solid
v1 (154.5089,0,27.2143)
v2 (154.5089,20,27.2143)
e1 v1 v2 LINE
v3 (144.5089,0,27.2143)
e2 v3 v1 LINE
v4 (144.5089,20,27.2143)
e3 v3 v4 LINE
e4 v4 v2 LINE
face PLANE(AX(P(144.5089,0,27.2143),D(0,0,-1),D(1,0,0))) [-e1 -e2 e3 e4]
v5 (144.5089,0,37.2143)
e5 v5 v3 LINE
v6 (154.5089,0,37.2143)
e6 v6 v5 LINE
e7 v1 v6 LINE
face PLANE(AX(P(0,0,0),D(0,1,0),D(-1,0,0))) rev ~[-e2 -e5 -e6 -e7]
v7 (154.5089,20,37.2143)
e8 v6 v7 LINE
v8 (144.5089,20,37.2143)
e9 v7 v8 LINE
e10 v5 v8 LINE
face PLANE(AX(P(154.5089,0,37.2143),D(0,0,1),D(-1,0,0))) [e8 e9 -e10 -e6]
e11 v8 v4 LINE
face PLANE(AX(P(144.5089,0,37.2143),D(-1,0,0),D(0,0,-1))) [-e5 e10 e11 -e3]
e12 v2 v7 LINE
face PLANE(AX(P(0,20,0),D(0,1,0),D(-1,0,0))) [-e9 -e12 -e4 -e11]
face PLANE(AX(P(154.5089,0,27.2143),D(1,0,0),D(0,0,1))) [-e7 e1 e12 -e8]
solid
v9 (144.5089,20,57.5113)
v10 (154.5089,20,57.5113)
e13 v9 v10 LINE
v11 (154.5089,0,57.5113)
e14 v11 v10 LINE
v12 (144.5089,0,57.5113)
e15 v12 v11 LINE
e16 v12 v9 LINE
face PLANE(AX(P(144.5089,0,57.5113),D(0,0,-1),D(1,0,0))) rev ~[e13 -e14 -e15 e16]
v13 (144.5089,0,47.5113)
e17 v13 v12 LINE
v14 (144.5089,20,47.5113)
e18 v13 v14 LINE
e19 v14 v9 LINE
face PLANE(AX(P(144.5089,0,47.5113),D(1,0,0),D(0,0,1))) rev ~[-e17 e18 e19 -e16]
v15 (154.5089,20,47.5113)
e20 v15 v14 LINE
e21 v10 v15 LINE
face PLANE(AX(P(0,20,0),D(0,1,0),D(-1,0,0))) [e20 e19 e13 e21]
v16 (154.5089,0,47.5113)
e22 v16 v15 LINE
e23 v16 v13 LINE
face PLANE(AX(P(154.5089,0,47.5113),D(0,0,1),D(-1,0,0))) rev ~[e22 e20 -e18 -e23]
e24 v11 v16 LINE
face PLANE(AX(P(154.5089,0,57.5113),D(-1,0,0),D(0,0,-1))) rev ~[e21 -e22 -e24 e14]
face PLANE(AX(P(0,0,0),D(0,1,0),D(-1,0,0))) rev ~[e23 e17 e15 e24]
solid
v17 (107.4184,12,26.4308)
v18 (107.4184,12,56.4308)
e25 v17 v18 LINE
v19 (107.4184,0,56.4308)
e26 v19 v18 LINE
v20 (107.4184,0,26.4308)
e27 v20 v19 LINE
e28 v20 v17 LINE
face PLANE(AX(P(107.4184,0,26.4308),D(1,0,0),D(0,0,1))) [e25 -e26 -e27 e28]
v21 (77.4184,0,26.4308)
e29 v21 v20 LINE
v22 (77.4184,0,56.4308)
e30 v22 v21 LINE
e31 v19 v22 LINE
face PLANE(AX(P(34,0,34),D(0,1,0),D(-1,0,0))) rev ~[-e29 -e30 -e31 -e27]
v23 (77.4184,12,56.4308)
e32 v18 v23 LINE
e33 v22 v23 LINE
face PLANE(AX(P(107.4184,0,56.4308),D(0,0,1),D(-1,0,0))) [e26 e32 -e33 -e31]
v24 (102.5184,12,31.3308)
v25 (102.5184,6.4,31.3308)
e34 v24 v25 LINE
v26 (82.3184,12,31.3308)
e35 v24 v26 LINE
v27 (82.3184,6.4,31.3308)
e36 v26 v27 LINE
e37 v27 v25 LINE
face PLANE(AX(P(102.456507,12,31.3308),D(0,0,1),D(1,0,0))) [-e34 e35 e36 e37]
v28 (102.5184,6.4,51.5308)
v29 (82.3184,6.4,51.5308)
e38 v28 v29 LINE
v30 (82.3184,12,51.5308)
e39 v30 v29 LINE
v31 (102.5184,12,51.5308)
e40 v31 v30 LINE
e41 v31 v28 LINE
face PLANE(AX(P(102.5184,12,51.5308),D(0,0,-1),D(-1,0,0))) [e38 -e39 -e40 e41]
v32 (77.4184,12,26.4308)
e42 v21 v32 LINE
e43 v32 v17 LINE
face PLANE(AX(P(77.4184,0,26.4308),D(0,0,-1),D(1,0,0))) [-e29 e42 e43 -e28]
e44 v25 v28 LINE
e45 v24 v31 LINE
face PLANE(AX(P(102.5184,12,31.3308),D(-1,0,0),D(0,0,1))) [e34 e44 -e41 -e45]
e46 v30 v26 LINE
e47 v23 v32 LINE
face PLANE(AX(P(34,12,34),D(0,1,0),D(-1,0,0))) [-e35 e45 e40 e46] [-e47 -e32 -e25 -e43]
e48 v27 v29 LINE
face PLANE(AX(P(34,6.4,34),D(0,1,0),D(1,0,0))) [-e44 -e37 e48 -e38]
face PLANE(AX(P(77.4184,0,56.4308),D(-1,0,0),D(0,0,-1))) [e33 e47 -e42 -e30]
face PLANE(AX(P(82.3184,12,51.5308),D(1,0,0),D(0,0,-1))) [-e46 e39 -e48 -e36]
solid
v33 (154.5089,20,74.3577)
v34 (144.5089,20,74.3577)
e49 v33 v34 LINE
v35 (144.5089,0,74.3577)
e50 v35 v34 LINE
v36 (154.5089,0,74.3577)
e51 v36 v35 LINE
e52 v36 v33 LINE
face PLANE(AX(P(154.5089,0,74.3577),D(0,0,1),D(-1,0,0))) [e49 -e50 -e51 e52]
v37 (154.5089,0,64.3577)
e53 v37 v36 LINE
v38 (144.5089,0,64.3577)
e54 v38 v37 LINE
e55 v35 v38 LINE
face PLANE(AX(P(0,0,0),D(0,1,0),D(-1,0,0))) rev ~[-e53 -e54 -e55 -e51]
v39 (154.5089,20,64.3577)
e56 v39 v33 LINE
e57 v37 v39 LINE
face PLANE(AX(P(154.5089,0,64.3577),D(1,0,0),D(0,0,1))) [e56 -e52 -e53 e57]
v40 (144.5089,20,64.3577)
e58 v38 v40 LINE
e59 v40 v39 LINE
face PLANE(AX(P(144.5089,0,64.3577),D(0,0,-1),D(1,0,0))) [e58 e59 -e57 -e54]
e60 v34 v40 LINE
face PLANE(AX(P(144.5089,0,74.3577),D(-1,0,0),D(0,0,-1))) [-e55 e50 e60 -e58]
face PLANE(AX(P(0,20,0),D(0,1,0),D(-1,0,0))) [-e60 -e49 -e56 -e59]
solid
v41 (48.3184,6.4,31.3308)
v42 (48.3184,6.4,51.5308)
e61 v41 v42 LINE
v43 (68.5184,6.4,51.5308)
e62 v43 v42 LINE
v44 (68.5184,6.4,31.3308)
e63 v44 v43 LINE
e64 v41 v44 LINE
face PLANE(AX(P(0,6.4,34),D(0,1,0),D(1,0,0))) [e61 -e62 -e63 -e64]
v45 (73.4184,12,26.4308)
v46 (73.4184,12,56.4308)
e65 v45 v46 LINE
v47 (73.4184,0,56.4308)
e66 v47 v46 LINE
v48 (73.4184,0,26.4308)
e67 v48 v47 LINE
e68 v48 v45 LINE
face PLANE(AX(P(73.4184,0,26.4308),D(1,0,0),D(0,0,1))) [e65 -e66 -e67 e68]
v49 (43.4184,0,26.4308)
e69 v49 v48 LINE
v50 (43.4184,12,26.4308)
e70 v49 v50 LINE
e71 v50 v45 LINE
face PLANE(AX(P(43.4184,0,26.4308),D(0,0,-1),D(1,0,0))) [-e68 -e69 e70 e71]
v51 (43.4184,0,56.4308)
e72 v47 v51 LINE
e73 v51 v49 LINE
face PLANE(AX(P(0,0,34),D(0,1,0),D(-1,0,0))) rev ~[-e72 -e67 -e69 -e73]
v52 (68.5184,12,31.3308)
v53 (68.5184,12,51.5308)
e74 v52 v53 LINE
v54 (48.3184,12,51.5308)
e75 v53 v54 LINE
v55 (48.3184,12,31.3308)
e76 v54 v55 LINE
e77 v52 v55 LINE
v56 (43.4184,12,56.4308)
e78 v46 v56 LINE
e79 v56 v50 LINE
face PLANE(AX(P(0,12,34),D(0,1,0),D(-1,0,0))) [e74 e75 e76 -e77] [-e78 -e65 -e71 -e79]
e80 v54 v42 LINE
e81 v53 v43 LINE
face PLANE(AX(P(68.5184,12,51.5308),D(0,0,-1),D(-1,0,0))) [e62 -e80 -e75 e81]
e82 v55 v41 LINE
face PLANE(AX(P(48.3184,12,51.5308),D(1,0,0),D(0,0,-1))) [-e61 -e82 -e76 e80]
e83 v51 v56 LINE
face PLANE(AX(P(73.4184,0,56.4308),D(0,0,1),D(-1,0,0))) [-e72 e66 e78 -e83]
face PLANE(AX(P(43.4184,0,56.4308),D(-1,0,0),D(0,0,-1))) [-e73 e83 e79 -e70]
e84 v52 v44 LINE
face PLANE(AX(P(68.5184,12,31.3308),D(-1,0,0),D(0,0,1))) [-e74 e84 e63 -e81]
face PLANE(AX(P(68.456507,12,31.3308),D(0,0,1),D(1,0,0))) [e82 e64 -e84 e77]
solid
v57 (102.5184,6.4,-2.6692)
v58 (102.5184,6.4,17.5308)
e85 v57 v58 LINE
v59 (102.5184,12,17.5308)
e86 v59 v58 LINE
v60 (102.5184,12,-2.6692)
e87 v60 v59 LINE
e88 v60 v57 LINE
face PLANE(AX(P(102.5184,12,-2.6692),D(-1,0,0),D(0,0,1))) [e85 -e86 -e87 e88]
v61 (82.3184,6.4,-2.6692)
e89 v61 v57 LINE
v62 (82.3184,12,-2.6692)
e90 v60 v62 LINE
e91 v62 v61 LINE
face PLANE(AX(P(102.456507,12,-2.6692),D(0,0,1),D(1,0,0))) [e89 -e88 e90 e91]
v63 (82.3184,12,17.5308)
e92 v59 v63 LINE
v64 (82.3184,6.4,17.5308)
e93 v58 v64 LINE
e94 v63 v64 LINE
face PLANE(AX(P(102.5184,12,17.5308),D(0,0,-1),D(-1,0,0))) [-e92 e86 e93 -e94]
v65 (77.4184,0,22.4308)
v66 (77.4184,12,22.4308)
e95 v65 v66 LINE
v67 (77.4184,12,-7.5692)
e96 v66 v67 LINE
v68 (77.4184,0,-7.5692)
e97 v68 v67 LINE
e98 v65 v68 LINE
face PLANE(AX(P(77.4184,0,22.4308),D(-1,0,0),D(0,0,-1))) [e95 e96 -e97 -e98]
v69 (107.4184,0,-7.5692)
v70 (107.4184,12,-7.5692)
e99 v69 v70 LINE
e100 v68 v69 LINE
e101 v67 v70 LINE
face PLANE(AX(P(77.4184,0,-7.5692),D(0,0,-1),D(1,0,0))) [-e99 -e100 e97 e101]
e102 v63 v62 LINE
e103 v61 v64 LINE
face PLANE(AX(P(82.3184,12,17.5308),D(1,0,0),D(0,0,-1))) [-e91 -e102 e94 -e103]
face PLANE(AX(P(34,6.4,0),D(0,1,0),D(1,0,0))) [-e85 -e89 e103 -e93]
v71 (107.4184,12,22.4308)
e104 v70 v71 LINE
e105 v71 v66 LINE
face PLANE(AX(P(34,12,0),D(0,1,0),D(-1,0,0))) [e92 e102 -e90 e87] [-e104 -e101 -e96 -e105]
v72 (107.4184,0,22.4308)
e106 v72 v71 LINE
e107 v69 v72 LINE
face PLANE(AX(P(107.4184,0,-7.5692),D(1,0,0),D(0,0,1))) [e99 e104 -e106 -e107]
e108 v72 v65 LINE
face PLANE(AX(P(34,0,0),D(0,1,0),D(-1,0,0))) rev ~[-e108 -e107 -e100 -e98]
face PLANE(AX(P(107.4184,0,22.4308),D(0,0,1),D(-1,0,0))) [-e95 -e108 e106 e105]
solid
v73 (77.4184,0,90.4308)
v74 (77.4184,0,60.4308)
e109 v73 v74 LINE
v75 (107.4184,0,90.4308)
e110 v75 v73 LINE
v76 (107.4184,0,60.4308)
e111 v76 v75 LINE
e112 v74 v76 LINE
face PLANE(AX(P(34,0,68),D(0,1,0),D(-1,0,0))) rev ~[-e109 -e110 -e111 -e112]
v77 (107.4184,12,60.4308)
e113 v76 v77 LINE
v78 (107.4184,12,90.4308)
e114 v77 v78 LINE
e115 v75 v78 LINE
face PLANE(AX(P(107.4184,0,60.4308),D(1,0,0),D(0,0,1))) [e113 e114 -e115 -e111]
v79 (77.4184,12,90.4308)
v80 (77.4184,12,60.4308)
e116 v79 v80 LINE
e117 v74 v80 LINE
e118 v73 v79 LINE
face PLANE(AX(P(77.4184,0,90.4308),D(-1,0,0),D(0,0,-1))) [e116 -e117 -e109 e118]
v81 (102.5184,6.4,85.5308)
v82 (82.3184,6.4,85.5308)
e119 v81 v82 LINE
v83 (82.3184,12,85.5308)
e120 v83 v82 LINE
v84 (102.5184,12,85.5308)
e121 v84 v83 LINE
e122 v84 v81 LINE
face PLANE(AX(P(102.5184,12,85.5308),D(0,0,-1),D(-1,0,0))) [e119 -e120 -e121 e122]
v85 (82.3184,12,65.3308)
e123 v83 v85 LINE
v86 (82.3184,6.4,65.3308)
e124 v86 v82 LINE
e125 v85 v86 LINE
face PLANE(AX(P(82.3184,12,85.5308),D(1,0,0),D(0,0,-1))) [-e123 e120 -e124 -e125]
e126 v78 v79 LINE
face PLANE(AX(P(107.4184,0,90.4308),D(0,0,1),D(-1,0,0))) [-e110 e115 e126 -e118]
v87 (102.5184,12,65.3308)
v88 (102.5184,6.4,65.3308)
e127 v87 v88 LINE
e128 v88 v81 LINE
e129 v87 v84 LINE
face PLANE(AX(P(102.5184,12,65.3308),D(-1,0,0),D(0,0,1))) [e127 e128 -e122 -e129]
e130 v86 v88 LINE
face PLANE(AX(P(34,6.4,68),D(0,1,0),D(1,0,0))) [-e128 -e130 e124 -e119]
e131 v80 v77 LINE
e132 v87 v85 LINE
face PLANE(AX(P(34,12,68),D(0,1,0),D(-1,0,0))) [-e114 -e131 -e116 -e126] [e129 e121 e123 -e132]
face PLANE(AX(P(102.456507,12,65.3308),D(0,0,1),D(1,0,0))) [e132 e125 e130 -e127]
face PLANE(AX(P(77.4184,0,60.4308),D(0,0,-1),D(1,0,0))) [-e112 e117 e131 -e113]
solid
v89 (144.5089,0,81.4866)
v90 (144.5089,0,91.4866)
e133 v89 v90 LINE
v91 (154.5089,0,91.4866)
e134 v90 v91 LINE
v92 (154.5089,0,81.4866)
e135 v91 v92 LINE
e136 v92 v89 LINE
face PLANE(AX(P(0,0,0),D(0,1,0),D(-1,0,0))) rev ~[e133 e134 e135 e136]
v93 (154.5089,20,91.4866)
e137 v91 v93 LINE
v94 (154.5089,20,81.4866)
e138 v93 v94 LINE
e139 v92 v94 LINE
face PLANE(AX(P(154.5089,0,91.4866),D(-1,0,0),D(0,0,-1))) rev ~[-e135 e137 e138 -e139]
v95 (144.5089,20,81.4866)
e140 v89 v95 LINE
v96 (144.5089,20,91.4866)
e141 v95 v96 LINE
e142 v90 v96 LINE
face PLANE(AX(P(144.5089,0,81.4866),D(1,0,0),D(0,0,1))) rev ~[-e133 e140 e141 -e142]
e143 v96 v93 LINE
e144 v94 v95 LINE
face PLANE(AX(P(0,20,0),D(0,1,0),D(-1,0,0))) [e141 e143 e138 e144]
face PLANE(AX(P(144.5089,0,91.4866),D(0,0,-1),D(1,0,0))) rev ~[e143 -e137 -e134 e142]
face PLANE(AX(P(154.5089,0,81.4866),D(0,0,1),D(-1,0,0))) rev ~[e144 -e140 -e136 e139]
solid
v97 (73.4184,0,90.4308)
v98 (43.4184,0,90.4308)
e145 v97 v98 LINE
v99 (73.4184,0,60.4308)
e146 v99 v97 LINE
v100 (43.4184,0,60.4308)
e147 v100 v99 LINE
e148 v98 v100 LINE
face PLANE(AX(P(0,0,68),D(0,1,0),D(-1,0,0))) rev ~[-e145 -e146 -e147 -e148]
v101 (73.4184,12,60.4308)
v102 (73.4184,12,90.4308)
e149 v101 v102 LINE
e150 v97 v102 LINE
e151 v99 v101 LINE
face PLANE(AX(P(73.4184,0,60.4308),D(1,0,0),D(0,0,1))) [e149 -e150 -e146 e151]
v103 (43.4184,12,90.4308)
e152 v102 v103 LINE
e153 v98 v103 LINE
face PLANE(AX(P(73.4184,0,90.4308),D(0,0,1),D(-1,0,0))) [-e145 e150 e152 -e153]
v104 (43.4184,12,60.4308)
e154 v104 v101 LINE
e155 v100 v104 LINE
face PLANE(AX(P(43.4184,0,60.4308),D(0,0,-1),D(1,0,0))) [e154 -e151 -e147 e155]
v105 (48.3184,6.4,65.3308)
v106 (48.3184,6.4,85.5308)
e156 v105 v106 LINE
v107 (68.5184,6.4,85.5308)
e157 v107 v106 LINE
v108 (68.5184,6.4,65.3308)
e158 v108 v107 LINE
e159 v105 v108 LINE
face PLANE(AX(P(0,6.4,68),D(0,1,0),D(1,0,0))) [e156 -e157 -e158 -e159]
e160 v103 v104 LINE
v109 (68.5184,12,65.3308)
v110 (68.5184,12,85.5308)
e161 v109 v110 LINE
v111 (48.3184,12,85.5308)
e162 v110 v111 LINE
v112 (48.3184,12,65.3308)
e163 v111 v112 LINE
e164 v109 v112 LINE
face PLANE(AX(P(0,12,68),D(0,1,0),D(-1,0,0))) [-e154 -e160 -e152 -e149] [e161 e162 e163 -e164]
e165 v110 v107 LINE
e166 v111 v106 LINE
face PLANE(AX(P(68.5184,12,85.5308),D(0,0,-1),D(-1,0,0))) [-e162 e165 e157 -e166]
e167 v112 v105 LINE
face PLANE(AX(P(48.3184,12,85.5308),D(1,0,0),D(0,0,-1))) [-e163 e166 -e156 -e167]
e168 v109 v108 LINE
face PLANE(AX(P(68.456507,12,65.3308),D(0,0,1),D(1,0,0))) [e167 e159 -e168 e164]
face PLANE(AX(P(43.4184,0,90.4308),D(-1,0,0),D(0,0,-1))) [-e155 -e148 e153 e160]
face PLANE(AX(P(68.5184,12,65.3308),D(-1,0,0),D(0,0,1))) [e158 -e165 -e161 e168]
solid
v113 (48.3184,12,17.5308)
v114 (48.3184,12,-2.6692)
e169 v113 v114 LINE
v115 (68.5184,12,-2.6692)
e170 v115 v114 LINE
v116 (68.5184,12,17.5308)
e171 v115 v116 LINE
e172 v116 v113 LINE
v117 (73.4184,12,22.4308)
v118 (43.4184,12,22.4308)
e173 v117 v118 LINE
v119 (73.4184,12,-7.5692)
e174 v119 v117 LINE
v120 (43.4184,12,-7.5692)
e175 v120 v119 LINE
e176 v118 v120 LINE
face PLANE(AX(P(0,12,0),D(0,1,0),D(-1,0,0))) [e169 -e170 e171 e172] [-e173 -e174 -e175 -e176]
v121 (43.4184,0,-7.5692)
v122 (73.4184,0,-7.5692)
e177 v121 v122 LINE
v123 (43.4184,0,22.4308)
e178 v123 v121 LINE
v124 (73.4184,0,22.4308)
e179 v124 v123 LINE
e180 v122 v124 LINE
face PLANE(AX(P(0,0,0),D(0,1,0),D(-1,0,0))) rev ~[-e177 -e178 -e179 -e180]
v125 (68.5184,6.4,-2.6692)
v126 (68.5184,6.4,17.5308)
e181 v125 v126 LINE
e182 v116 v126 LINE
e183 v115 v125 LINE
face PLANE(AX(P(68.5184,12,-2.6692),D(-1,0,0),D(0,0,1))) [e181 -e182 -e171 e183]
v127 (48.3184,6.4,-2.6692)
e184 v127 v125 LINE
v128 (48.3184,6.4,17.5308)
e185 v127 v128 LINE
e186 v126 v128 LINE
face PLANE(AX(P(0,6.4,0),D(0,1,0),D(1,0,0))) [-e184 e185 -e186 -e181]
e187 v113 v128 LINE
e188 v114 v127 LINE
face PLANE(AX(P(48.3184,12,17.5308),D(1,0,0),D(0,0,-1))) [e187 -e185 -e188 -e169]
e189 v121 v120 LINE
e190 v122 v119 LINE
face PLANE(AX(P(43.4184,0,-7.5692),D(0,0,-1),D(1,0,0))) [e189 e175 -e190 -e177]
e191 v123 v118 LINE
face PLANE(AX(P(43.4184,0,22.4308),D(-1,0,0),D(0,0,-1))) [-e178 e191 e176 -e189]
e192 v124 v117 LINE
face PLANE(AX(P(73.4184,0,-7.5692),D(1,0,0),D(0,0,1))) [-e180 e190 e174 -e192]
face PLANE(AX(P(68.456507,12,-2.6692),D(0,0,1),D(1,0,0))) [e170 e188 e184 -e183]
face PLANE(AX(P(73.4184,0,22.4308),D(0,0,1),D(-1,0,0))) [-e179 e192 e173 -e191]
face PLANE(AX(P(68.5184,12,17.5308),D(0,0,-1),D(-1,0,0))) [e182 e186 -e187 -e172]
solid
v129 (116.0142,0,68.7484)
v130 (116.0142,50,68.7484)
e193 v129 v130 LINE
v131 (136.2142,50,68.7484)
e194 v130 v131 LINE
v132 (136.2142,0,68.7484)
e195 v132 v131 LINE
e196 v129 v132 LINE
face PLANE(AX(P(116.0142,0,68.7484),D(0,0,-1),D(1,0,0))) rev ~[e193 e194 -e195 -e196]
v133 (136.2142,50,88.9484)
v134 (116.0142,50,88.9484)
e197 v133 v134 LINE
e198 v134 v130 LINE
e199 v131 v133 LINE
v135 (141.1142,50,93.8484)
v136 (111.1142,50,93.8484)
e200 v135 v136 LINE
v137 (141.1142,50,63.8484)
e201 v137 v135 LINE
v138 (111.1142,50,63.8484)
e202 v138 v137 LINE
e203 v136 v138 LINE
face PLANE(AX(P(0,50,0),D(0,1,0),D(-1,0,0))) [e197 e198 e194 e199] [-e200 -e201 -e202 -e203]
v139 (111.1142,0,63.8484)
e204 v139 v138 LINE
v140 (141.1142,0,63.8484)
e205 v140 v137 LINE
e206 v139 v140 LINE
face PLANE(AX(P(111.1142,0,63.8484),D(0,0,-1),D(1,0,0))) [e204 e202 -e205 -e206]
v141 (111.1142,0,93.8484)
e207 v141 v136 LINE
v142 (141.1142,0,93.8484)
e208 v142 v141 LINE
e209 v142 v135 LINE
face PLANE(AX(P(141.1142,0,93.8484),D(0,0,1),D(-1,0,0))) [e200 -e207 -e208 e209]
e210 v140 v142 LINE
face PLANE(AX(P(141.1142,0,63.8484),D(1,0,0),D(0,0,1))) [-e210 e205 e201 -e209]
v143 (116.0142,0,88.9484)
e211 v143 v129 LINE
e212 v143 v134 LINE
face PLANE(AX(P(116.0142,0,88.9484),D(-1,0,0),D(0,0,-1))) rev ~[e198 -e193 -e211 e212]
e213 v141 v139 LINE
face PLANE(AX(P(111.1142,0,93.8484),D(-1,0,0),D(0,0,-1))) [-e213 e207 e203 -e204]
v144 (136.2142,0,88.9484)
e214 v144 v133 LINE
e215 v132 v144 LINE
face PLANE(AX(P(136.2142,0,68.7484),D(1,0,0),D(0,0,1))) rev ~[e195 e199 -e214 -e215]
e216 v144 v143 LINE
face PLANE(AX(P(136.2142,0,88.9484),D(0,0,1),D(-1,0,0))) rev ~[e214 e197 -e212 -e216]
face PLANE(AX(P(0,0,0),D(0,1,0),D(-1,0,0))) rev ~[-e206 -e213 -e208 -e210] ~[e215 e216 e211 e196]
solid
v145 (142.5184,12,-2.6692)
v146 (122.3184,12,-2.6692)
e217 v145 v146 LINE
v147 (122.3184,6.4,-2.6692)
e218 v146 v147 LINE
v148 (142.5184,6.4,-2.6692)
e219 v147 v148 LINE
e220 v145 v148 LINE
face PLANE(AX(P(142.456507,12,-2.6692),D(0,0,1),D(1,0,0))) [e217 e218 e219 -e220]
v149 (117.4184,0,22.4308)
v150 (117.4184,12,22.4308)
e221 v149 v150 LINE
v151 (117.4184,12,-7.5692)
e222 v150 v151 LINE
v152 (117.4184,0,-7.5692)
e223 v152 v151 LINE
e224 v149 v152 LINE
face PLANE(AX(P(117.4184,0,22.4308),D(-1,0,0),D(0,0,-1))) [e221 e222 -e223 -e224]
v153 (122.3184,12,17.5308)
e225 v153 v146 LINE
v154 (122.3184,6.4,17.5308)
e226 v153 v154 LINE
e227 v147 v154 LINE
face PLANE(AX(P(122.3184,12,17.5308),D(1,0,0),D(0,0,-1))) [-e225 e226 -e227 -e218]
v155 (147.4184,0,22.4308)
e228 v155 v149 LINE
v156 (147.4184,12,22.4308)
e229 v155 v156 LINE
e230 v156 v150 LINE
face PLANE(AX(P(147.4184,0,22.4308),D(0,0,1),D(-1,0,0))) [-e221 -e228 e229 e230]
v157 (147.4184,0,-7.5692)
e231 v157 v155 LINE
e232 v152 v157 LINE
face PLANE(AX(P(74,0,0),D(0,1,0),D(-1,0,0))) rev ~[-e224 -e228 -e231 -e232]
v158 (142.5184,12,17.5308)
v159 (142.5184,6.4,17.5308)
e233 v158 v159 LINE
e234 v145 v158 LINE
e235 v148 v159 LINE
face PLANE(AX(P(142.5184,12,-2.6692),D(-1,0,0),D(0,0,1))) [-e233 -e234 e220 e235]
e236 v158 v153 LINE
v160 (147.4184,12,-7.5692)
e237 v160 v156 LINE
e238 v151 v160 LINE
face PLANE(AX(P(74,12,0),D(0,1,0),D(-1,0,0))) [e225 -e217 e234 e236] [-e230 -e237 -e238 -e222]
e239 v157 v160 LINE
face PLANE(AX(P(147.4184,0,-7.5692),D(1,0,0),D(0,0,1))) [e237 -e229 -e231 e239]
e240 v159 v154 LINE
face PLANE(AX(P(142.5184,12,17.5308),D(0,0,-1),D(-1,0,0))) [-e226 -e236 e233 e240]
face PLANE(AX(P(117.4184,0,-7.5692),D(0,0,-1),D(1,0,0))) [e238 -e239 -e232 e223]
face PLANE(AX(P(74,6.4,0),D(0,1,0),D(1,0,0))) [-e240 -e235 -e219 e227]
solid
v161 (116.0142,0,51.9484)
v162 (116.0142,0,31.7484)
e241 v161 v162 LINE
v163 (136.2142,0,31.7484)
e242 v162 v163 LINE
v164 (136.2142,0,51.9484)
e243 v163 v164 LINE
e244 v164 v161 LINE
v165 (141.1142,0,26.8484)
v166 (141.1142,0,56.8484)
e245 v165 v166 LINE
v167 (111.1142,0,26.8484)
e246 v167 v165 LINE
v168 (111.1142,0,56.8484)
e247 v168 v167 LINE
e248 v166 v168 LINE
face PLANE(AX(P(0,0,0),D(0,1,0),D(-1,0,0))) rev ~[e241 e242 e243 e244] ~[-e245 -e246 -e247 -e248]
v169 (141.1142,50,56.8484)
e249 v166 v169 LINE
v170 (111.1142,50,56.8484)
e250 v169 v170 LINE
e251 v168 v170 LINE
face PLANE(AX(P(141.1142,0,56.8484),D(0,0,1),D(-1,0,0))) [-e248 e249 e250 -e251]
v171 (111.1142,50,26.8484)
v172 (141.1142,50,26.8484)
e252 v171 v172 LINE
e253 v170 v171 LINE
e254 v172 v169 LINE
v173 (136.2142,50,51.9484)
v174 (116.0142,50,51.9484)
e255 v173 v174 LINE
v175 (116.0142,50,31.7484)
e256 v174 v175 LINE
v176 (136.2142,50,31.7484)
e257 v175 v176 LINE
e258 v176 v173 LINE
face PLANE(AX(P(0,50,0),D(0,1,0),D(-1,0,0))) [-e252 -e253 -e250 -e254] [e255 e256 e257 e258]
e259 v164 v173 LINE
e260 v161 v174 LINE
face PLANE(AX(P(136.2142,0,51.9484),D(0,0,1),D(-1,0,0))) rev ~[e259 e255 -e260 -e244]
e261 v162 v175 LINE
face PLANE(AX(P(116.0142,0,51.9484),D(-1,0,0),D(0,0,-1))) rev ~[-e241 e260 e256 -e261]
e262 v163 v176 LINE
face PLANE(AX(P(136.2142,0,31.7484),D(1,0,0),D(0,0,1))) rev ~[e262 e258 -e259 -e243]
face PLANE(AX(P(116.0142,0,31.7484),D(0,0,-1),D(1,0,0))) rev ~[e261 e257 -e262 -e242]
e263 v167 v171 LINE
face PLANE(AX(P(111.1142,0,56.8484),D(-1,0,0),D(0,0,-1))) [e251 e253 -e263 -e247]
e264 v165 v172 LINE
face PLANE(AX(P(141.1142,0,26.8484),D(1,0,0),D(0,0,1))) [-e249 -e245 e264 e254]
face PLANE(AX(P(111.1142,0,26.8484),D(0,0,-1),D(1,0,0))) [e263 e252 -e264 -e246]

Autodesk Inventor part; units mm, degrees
ref_plane "YZ Plane" through (0, 0, 0) normal (1, 0, 0) x (0, 1, 0)
ref_plane "XZ Plane" through (0, 0, 0) normal (0, 1, 0) x (-1, 0, 0)
ref_plane "XY Plane" through (0, 0, 0) normal (0, 0, 1) x (1, 0, 0)
sketch "草圖1" plane through (0, 0, 0) normal (0, 1, 0) x (-1, 0, 0)
  circle A0 centre (0, 0) radius 7
  circle A1 centre (0, 0) radius 11
  line L0 (0, 0) -> (-26.517, 0)
  line L1 (0, 0) -> (0, 28.4195)
  circle A2 centre (-26, 0) radius 7
  circle A3 centre (-26, 0) radius 11
  circle A4 centre (0, 26) radius 7
  circle A5 centre (0, 26) radius 11
  circle A6 centre (-26, 26) radius 7
  circle A7 centre (-26, 26) radius 11
  dimension "d0" = 14
  dimension "d1" = 22
  dimension "d6" = 26
  dimension "d9" = 26
sketch "草圖2" plane through (0, 0, 0) normal (0, 1, 0) x (-1, 0, 0)
  line L0 (-43.4184, -7.5692) -> (-73.4184, -7.5692)
  line L1 (-73.4184, -7.5692) -> (-73.4184, 22.4308)
  line L2 (-73.4184, 22.4308) -> (-43.4184, 22.4308)
  line L3 (-43.4184, 22.4308) -> (-43.4184, -7.5692)
  point P0 (0, 0)
  dimension "d14" = 30
  dimension "d15" = 30
extrude "擠出3" add sketch "草圖2" along normal blind 12
sketch "草圖3" plane through (0, 12, 0) normal (0, 1, 0) x (1, 0, 0)
  line L0 (73.4184, -22.4308) -> (73.4184, 7.5692) projected
  line L1 (73.4184, 7.5692) -> (41.0142, -24.4308)
  line L2 (73.4184, 7.5692) -> (43.4184, 7.5692) projected
  line L3 (43.4184, 7.5692) -> (73.4184, -22.4308)
  line L4 (48.3184, 2.6692) -> (68.5184, 2.6692)
  line L5 (68.5184, 2.6692) -> (68.5184, -17.5308)
  line L6 (68.5184, -17.5308) -> (48.3184, -17.5308)
  line L7 (48.3184, -17.5308) -> (48.3184, 2.6692)
  line L8 (48.3184, 2.6692) -> (68.5184, -17.5308) construction
  line L9 (68.5184, 2.6692) -> (48.3184, -17.5308) construction
  point P0 (0, 0)
  point P1 (58.4184, -7.4308)
  dimension "d18" = 20.2
  dimension "d19" = 20.2
extrude "擠出4" cut sketch "草圖3" against normal blind 5.6 contours L6 L7 L1 L3 | L3 L1 L4 L5 | L1 L3 L4 | L1 L7 L3
pattern_linear "矩形陣列1" count 2 spacing 34 along (1, 0, 0) count 3 spacing 34 along (0, 0, 1) of "擠出3", "擠出4"
sketch "草圖6" plane through (0, 0, 0) normal (0, 1, 0) x (-1, 0, 0)
  point P0 (0, 0)
sketch "草圖9" plane through (0, 0, 0) normal (0, 1, 0) x (-1, 0, 0)
  line L0 (-111.1142, 26.8484) -> (-141.1142, 26.8484)
  line L1 (-141.1142, 26.8484) -> (-141.1142, 56.8484)
  line L2 (-141.1142, 56.8484) -> (-111.1142, 56.8484)
  line L3 (-111.1142, 56.8484) -> (-111.1142, 26.8484)
  line L4 (-116.0142, 31.7484) -> (-136.2142, 31.7484)
  line L5 (-136.2142, 31.7484) -> (-136.2142, 51.9484)
  line L6 (-136.2142, 51.9484) -> (-116.0142, 51.9484)
  line L7 (-116.0142, 51.9484) -> (-116.0142, 31.7484)
  line L8 (-116.0142, 31.7484) -> (-136.2142, 51.9484) construction
  line L9 (-136.2142, 31.7484) -> (-116.0142, 51.9484) construction
  line L10 (-111.1142, 63.8484) -> (-141.1142, 63.8484)
  line L11 (-141.1142, 63.8484) -> (-141.1142, 93.8484)
  line L12 (-141.1142, 93.8484) -> (-111.1142, 93.8484)
  line L13 (-111.1142, 93.8484) -> (-111.1142, 63.8484)
  line L14 (-116.0142, 68.7484) -> (-136.2142, 68.7484)
  line L15 (-136.2142, 68.7484) -> (-136.2142, 88.9484)
  line L16 (-136.2142, 88.9484) -> (-116.0142, 88.9484)
  line L17 (-116.0142, 88.9484) -> (-116.0142, 68.7484)
  line L18 (-116.0142, 68.7484) -> (-136.2142, 88.9484) construction
  line L19 (-136.2142, 68.7484) -> (-116.0142, 88.9484) construction
  line L20 (-1.9445, 119.2719) -> (-33.9445, 119.2719)
  line L21 (-33.9445, 119.2719) -> (-33.9445, 151.2719)
  line L22 (-33.9445, 151.2719) -> (-1.9445, 151.2719)
  line L23 (-1.9445, 151.2719) -> (-1.9445, 119.2719)
  line L24 (-5.9445, 123.2719) -> (-29.9445, 123.2719)
  line L25 (-29.9445, 123.2719) -> (-29.9445, 147.2719)
  line L26 (-29.9445, 147.2719) -> (-5.9445, 147.2719)
  line L27 (-5.9445, 147.2719) -> (-5.9445, 123.2719)
  line L28 (-5.9445, 119.5982) -> (-29.9445, 143.5982) construction
  line L29 (-29.9445, 119.5982) -> (-5.9445, 143.5982) construction
  line L30 (35.5473, 81.3984) -> (3.5473, 81.3984)
  line L31 (3.5473, 81.3984) -> (3.5473, 113.3984)
  line L32 (3.5473, 113.3984) -> (35.5473, 113.3984)
  line L33 (35.5473, 113.3984) -> (35.5473, 81.3984)
  line L34 (31.5472, 85.3984) -> (7.5472, 85.3984)
  line L35 (7.5472, 85.3984) -> (7.5472, 109.3984)
  line L36 (7.5472, 109.3984) -> (31.5472, 109.3984)
  line L37 (31.5472, 109.3984) -> (31.5472, 85.3984)
  line L38 (31.5472, 85.3984) -> (7.5472, 109.3984) construction
  line L39 (7.5472, 85.3984) -> (31.5472, 109.3984) construction
  line L40 (34.8593, 41.843) -> (2.8593, 41.843)
  line L41 (30.8593, 45.843) -> (6.8593, 45.843)
  line L42 (6.8593, 45.843) -> (6.8593, 69.843)
  line L43 (2.8593, 41.843) -> (2.8593, 73.843)
  line L44 (6.8593, 69.843) -> (30.8593, 69.843)
  line L45 (30.8593, 45.843) -> (6.8593, 69.843) construction
  line L46 (6.8593, 45.843) -> (30.8593, 69.843) construction
  line L47 (2.8593, 73.843) -> (34.8593, 73.843)
  line L48 (30.8593, 69.843) -> (30.8593, 45.843)
  line L49 (34.8593, 73.843) -> (34.8593, 41.843)
  line L50 (35.5473, 117.4293) -> (3.5473, 117.4293)
  line L51 (31.5472, 121.4294) -> (7.5472, 121.4294)
  line L52 (7.5472, 121.4294) -> (7.5472, 145.4294)
  line L53 (3.5473, 117.4293) -> (3.5473, 149.4293)
  line L54 (7.5472, 145.4294) -> (31.5472, 145.4294)
  line L55 (31.5472, 121.4294) -> (7.5472, 145.4294) construction
  line L56 (7.5472, 121.4294) -> (31.5472, 145.4294) construction
  line L57 (3.5473, 149.4293) -> (35.5473, 149.4293)
  line L58 (31.5472, 145.4294) -> (31.5472, 121.4294)
  line L59 (35.5473, 149.4293) -> (35.5473, 117.4293)
  line L60 (-40.805, 141.4327) -> (-72.805, 141.4327)
  line L61 (-44.805, 145.4328) -> (-68.805, 145.4328)
  line L62 (-68.805, 145.4328) -> (-68.805, 169.4328)
  line L63 (-72.805, 141.4327) -> (-72.805, 173.4327)
  line L64 (-68.805, 169.4328) -> (-44.805, 169.4328)
  line L65 (-44.805, 145.4328) -> (-68.805, 169.4328) construction
  line L66 (-68.805, 145.4328) -> (-44.805, 169.4328) construction
  line L67 (-72.805, 173.4327) -> (-40.805, 173.4327)
  line L68 (-44.805, 169.4328) -> (-44.805, 145.4328)
  line L69 (-40.805, 173.4327) -> (-40.805, 141.4327)
  line L70 (-81.8163, 139.4435) -> (-113.8163, 139.4435)
  line L71 (-85.8164, 143.4436) -> (-109.8164, 143.4436)
  line L72 (-109.8164, 143.4436) -> (-109.8164, 167.4436)
  line L73 (-113.8163, 139.4435) -> (-113.8163, 171.4435)
  line L74 (-109.8164, 167.4436) -> (-85.8164, 167.4436)
  line L75 (-85.8164, 143.4436) -> (-109.8164, 167.4436) construction
  line L76 (-109.8164, 143.4436) -> (-85.8164, 167.4436) construction
  line L77 (-113.8163, 171.4435) -> (-81.8163, 171.4435)
  line L78 (-85.8164, 167.4436) -> (-85.8164, 143.4436)
  line L79 (-81.8163, 171.4435) -> (-81.8163, 139.4435)
  point P0 (0, 0)
  point P1 (-126.1142, 41.8484)
  point P2 (-126.1142, 78.8484)
  point P3 (-17.9445, 131.5982)
  point P4 (19.5472, 97.3984)
  point P5 (18.8593, 57.843)
  point P6 (19.5472, 133.4294)
  point P7 (-56.805, 157.4328)
  point P8 (-97.8164, 155.4436)
  dimension "d73" = 50.747
  dimension "d54" = 30
  dimension "d55" = 30
  dimension "d56" = 20.2
  dimension "d57" = 20.2
  dimension "d60" = 37
  dimension "d69" = 32
  dimension "d70" = 32
  dimension "d71" = 24
  dimension "d72" = 24
  dimension "d141" = 4.9
  dimension "d142" = 4.9
extrude "擠出9" add sketch "草圖9" along normal blind 50 contours L0 L1 L2 L3 | L10 L11 L12 L13
sketch "草圖10" plane through (0, 0, 0) normal (0, 1, 0) x (-1, 0, 0)
  line L0 (48.2716, 184.5725) -> (-274.6912, 184.5725)
  line L1 (-274.6912, 184.5725) -> (-274.6912, -18.9692)
  line L2 (-274.6912, -18.9692) -> (48.2716, -18.9692)
  line L3 (48.2716, -18.9692) -> (48.2716, 184.5725)
  line L4 (48.2716, -18.9692) -> (-71.7284, -18.9692)
  line L5 (-71.7284, -18.9692) -> (-71.7284, 101.0308)
  line L6 (-71.7284, 101.0308) -> (48.2716, 101.0308)
  line L7 (48.2716, 101.0308) -> (48.2716, -18.9692)
  line L8 (-71.7284, -18.9692) -> (-191.7284, -18.9692)
  line L9 (-191.7284, -18.9692) -> (-191.7284, 101.0308)
  line L10 (-191.7284, 101.0308) -> (-71.7284, 101.0308)
  line L11 (-71.7284, 101.0308) -> (-71.7284, -18.9692)
  point P0 (0, 0)
  dimension "d99" = 322.9628
  dimension "d100" = 203.5417
  dimension "d135" = 120
  dimension "d136" = 120
  dimension "d137" = 120
  dimension "d138" = 120
sketch "草圖11" plane through (0, 0, 0) normal (0, 1, 0) x (-1, 0, 0)
  line L0 (35.0654, 155.7952) -> (13.0654, 155.7952)
  line L1 (13.0654, 155.7952) -> (13.0654, 177.7952)
  line L2 (13.0654, 177.7952) -> (35.0654, 177.7952)
  line L3 (35.0654, 177.7952) -> (35.0654, 155.7952)
  line L4 (4.7905, 155.7952) -> (-17.2095, 155.7952)
  line L5 (-17.2095, 155.7952) -> (-17.2095, 177.7952)
  line L6 (-17.2095, 177.7952) -> (4.7905, 177.7952)
  line L7 (4.7905, 177.7952) -> (4.7905, 155.7952)
  point P0 (0, 0)
  dimension "d101" = 22
  dimension "d102" = 22
  dimension "d103" = 22
  dimension "d104" = 22
sketch "草圖12" plane through (0, 0, 0) normal (0, 1, 0) x (-1, 0, 0)
  line L0 (17.1987, 35.1037) -> (39.1987, 35.1037)
  line L1 (39.1987, 35.1037) -> (39.1987, 13.1037)
  line L2 (39.1987, 13.1037) -> (17.1987, 13.1037)
  line L3 (17.1987, 13.1037) -> (17.1987, 35.1037)
  line L4 (17.9153, 6.7257) -> (39.9153, 6.7257)
  line L5 (39.9153, 6.7257) -> (39.9153, -15.2743)
  line L6 (39.9153, -15.2743) -> (17.9153, -15.2743)
  line L7 (17.9153, -15.2743) -> (17.9153, 6.7257)
  point P0 (0, 0)
  dimension "d105" = 22
  dimension "d106" = 22
  dimension "d107" = 22
  dimension "d108" = 22
sketch "草圖14" plane through (0, 0, 0) normal (0, 1, 0) x (-1, 0, 0)
  line L0 (-154.5089, 57.5113) -> (-154.5089, 47.5113)
  line L1 (-154.5089, 47.5113) -> (-144.5089, 47.5113)
  line L2 (-144.5089, 47.5113) -> (-144.5089, 57.5113)
  line L3 (-144.5089, 57.5113) -> (-154.5089, 57.5113)
  line L4 (-154.5089, 27.2143) -> (-154.5089, 37.2143)
  line L5 (-154.5089, 37.2143) -> (-144.5089, 37.2143)
  line L6 (-144.5089, 37.2143) -> (-144.5089, 27.2143)
  line L7 (-144.5089, 27.2143) -> (-154.5089, 27.2143)
  line L8 (-154.5089, 91.4866) -> (-154.5089, 81.4866)
  line L9 (-154.5089, 81.4866) -> (-144.5089, 81.4866)
  line L10 (-144.5089, 81.4866) -> (-144.5089, 91.4866)
  line L11 (-144.5089, 91.4866) -> (-154.5089, 91.4866)
  line L12 (-154.5089, 64.3577) -> (-154.5089, 74.3577)
  line L13 (-154.5089, 74.3577) -> (-144.5089, 74.3577)
  line L14 (-144.5089, 74.3577) -> (-144.5089, 64.3577)
  line L15 (-144.5089, 64.3577) -> (-154.5089, 64.3577)
  point P0 (0, 0)
  dimension "d123" = 10
  dimension "d124" = 10
  dimension "d125" = 10
  dimension "d126" = 10
  dimension "d143" = 10
  dimension "d144" = 10
  dimension "d145" = 10
  dimension "d146" = 10
extrude "擠出14" add sketch "草圖14" along normal blind 20
pattern_linear "矩形陣列5" count 2 spacing 74 along (1, 0, 0) of "擠出3", "擠出4"
sketch "草圖15" plane through (0, 0, 0) normal (0, 1, 0) x (-1, 0, 0)
  line L0 (-141.1142, 56.8484) -> (-141.1142, 26.8484) projected
  line L1 (-40.5554, -10.4383) -> (-160.5554, -10.4383)
  line L2 (-160.5554, -10.4383) -> (-160.5554, 109.5617)
  line L3 (-160.5554, 109.5617) -> (-40.5554, 109.5617)
  line L4 (-40.5554, 109.5617) -> (-40.5554, -10.4383)
  point P0 (0, 0)
  dimension "d139" = 120
  dimension "d140" = 120
properties part number "axie1"
